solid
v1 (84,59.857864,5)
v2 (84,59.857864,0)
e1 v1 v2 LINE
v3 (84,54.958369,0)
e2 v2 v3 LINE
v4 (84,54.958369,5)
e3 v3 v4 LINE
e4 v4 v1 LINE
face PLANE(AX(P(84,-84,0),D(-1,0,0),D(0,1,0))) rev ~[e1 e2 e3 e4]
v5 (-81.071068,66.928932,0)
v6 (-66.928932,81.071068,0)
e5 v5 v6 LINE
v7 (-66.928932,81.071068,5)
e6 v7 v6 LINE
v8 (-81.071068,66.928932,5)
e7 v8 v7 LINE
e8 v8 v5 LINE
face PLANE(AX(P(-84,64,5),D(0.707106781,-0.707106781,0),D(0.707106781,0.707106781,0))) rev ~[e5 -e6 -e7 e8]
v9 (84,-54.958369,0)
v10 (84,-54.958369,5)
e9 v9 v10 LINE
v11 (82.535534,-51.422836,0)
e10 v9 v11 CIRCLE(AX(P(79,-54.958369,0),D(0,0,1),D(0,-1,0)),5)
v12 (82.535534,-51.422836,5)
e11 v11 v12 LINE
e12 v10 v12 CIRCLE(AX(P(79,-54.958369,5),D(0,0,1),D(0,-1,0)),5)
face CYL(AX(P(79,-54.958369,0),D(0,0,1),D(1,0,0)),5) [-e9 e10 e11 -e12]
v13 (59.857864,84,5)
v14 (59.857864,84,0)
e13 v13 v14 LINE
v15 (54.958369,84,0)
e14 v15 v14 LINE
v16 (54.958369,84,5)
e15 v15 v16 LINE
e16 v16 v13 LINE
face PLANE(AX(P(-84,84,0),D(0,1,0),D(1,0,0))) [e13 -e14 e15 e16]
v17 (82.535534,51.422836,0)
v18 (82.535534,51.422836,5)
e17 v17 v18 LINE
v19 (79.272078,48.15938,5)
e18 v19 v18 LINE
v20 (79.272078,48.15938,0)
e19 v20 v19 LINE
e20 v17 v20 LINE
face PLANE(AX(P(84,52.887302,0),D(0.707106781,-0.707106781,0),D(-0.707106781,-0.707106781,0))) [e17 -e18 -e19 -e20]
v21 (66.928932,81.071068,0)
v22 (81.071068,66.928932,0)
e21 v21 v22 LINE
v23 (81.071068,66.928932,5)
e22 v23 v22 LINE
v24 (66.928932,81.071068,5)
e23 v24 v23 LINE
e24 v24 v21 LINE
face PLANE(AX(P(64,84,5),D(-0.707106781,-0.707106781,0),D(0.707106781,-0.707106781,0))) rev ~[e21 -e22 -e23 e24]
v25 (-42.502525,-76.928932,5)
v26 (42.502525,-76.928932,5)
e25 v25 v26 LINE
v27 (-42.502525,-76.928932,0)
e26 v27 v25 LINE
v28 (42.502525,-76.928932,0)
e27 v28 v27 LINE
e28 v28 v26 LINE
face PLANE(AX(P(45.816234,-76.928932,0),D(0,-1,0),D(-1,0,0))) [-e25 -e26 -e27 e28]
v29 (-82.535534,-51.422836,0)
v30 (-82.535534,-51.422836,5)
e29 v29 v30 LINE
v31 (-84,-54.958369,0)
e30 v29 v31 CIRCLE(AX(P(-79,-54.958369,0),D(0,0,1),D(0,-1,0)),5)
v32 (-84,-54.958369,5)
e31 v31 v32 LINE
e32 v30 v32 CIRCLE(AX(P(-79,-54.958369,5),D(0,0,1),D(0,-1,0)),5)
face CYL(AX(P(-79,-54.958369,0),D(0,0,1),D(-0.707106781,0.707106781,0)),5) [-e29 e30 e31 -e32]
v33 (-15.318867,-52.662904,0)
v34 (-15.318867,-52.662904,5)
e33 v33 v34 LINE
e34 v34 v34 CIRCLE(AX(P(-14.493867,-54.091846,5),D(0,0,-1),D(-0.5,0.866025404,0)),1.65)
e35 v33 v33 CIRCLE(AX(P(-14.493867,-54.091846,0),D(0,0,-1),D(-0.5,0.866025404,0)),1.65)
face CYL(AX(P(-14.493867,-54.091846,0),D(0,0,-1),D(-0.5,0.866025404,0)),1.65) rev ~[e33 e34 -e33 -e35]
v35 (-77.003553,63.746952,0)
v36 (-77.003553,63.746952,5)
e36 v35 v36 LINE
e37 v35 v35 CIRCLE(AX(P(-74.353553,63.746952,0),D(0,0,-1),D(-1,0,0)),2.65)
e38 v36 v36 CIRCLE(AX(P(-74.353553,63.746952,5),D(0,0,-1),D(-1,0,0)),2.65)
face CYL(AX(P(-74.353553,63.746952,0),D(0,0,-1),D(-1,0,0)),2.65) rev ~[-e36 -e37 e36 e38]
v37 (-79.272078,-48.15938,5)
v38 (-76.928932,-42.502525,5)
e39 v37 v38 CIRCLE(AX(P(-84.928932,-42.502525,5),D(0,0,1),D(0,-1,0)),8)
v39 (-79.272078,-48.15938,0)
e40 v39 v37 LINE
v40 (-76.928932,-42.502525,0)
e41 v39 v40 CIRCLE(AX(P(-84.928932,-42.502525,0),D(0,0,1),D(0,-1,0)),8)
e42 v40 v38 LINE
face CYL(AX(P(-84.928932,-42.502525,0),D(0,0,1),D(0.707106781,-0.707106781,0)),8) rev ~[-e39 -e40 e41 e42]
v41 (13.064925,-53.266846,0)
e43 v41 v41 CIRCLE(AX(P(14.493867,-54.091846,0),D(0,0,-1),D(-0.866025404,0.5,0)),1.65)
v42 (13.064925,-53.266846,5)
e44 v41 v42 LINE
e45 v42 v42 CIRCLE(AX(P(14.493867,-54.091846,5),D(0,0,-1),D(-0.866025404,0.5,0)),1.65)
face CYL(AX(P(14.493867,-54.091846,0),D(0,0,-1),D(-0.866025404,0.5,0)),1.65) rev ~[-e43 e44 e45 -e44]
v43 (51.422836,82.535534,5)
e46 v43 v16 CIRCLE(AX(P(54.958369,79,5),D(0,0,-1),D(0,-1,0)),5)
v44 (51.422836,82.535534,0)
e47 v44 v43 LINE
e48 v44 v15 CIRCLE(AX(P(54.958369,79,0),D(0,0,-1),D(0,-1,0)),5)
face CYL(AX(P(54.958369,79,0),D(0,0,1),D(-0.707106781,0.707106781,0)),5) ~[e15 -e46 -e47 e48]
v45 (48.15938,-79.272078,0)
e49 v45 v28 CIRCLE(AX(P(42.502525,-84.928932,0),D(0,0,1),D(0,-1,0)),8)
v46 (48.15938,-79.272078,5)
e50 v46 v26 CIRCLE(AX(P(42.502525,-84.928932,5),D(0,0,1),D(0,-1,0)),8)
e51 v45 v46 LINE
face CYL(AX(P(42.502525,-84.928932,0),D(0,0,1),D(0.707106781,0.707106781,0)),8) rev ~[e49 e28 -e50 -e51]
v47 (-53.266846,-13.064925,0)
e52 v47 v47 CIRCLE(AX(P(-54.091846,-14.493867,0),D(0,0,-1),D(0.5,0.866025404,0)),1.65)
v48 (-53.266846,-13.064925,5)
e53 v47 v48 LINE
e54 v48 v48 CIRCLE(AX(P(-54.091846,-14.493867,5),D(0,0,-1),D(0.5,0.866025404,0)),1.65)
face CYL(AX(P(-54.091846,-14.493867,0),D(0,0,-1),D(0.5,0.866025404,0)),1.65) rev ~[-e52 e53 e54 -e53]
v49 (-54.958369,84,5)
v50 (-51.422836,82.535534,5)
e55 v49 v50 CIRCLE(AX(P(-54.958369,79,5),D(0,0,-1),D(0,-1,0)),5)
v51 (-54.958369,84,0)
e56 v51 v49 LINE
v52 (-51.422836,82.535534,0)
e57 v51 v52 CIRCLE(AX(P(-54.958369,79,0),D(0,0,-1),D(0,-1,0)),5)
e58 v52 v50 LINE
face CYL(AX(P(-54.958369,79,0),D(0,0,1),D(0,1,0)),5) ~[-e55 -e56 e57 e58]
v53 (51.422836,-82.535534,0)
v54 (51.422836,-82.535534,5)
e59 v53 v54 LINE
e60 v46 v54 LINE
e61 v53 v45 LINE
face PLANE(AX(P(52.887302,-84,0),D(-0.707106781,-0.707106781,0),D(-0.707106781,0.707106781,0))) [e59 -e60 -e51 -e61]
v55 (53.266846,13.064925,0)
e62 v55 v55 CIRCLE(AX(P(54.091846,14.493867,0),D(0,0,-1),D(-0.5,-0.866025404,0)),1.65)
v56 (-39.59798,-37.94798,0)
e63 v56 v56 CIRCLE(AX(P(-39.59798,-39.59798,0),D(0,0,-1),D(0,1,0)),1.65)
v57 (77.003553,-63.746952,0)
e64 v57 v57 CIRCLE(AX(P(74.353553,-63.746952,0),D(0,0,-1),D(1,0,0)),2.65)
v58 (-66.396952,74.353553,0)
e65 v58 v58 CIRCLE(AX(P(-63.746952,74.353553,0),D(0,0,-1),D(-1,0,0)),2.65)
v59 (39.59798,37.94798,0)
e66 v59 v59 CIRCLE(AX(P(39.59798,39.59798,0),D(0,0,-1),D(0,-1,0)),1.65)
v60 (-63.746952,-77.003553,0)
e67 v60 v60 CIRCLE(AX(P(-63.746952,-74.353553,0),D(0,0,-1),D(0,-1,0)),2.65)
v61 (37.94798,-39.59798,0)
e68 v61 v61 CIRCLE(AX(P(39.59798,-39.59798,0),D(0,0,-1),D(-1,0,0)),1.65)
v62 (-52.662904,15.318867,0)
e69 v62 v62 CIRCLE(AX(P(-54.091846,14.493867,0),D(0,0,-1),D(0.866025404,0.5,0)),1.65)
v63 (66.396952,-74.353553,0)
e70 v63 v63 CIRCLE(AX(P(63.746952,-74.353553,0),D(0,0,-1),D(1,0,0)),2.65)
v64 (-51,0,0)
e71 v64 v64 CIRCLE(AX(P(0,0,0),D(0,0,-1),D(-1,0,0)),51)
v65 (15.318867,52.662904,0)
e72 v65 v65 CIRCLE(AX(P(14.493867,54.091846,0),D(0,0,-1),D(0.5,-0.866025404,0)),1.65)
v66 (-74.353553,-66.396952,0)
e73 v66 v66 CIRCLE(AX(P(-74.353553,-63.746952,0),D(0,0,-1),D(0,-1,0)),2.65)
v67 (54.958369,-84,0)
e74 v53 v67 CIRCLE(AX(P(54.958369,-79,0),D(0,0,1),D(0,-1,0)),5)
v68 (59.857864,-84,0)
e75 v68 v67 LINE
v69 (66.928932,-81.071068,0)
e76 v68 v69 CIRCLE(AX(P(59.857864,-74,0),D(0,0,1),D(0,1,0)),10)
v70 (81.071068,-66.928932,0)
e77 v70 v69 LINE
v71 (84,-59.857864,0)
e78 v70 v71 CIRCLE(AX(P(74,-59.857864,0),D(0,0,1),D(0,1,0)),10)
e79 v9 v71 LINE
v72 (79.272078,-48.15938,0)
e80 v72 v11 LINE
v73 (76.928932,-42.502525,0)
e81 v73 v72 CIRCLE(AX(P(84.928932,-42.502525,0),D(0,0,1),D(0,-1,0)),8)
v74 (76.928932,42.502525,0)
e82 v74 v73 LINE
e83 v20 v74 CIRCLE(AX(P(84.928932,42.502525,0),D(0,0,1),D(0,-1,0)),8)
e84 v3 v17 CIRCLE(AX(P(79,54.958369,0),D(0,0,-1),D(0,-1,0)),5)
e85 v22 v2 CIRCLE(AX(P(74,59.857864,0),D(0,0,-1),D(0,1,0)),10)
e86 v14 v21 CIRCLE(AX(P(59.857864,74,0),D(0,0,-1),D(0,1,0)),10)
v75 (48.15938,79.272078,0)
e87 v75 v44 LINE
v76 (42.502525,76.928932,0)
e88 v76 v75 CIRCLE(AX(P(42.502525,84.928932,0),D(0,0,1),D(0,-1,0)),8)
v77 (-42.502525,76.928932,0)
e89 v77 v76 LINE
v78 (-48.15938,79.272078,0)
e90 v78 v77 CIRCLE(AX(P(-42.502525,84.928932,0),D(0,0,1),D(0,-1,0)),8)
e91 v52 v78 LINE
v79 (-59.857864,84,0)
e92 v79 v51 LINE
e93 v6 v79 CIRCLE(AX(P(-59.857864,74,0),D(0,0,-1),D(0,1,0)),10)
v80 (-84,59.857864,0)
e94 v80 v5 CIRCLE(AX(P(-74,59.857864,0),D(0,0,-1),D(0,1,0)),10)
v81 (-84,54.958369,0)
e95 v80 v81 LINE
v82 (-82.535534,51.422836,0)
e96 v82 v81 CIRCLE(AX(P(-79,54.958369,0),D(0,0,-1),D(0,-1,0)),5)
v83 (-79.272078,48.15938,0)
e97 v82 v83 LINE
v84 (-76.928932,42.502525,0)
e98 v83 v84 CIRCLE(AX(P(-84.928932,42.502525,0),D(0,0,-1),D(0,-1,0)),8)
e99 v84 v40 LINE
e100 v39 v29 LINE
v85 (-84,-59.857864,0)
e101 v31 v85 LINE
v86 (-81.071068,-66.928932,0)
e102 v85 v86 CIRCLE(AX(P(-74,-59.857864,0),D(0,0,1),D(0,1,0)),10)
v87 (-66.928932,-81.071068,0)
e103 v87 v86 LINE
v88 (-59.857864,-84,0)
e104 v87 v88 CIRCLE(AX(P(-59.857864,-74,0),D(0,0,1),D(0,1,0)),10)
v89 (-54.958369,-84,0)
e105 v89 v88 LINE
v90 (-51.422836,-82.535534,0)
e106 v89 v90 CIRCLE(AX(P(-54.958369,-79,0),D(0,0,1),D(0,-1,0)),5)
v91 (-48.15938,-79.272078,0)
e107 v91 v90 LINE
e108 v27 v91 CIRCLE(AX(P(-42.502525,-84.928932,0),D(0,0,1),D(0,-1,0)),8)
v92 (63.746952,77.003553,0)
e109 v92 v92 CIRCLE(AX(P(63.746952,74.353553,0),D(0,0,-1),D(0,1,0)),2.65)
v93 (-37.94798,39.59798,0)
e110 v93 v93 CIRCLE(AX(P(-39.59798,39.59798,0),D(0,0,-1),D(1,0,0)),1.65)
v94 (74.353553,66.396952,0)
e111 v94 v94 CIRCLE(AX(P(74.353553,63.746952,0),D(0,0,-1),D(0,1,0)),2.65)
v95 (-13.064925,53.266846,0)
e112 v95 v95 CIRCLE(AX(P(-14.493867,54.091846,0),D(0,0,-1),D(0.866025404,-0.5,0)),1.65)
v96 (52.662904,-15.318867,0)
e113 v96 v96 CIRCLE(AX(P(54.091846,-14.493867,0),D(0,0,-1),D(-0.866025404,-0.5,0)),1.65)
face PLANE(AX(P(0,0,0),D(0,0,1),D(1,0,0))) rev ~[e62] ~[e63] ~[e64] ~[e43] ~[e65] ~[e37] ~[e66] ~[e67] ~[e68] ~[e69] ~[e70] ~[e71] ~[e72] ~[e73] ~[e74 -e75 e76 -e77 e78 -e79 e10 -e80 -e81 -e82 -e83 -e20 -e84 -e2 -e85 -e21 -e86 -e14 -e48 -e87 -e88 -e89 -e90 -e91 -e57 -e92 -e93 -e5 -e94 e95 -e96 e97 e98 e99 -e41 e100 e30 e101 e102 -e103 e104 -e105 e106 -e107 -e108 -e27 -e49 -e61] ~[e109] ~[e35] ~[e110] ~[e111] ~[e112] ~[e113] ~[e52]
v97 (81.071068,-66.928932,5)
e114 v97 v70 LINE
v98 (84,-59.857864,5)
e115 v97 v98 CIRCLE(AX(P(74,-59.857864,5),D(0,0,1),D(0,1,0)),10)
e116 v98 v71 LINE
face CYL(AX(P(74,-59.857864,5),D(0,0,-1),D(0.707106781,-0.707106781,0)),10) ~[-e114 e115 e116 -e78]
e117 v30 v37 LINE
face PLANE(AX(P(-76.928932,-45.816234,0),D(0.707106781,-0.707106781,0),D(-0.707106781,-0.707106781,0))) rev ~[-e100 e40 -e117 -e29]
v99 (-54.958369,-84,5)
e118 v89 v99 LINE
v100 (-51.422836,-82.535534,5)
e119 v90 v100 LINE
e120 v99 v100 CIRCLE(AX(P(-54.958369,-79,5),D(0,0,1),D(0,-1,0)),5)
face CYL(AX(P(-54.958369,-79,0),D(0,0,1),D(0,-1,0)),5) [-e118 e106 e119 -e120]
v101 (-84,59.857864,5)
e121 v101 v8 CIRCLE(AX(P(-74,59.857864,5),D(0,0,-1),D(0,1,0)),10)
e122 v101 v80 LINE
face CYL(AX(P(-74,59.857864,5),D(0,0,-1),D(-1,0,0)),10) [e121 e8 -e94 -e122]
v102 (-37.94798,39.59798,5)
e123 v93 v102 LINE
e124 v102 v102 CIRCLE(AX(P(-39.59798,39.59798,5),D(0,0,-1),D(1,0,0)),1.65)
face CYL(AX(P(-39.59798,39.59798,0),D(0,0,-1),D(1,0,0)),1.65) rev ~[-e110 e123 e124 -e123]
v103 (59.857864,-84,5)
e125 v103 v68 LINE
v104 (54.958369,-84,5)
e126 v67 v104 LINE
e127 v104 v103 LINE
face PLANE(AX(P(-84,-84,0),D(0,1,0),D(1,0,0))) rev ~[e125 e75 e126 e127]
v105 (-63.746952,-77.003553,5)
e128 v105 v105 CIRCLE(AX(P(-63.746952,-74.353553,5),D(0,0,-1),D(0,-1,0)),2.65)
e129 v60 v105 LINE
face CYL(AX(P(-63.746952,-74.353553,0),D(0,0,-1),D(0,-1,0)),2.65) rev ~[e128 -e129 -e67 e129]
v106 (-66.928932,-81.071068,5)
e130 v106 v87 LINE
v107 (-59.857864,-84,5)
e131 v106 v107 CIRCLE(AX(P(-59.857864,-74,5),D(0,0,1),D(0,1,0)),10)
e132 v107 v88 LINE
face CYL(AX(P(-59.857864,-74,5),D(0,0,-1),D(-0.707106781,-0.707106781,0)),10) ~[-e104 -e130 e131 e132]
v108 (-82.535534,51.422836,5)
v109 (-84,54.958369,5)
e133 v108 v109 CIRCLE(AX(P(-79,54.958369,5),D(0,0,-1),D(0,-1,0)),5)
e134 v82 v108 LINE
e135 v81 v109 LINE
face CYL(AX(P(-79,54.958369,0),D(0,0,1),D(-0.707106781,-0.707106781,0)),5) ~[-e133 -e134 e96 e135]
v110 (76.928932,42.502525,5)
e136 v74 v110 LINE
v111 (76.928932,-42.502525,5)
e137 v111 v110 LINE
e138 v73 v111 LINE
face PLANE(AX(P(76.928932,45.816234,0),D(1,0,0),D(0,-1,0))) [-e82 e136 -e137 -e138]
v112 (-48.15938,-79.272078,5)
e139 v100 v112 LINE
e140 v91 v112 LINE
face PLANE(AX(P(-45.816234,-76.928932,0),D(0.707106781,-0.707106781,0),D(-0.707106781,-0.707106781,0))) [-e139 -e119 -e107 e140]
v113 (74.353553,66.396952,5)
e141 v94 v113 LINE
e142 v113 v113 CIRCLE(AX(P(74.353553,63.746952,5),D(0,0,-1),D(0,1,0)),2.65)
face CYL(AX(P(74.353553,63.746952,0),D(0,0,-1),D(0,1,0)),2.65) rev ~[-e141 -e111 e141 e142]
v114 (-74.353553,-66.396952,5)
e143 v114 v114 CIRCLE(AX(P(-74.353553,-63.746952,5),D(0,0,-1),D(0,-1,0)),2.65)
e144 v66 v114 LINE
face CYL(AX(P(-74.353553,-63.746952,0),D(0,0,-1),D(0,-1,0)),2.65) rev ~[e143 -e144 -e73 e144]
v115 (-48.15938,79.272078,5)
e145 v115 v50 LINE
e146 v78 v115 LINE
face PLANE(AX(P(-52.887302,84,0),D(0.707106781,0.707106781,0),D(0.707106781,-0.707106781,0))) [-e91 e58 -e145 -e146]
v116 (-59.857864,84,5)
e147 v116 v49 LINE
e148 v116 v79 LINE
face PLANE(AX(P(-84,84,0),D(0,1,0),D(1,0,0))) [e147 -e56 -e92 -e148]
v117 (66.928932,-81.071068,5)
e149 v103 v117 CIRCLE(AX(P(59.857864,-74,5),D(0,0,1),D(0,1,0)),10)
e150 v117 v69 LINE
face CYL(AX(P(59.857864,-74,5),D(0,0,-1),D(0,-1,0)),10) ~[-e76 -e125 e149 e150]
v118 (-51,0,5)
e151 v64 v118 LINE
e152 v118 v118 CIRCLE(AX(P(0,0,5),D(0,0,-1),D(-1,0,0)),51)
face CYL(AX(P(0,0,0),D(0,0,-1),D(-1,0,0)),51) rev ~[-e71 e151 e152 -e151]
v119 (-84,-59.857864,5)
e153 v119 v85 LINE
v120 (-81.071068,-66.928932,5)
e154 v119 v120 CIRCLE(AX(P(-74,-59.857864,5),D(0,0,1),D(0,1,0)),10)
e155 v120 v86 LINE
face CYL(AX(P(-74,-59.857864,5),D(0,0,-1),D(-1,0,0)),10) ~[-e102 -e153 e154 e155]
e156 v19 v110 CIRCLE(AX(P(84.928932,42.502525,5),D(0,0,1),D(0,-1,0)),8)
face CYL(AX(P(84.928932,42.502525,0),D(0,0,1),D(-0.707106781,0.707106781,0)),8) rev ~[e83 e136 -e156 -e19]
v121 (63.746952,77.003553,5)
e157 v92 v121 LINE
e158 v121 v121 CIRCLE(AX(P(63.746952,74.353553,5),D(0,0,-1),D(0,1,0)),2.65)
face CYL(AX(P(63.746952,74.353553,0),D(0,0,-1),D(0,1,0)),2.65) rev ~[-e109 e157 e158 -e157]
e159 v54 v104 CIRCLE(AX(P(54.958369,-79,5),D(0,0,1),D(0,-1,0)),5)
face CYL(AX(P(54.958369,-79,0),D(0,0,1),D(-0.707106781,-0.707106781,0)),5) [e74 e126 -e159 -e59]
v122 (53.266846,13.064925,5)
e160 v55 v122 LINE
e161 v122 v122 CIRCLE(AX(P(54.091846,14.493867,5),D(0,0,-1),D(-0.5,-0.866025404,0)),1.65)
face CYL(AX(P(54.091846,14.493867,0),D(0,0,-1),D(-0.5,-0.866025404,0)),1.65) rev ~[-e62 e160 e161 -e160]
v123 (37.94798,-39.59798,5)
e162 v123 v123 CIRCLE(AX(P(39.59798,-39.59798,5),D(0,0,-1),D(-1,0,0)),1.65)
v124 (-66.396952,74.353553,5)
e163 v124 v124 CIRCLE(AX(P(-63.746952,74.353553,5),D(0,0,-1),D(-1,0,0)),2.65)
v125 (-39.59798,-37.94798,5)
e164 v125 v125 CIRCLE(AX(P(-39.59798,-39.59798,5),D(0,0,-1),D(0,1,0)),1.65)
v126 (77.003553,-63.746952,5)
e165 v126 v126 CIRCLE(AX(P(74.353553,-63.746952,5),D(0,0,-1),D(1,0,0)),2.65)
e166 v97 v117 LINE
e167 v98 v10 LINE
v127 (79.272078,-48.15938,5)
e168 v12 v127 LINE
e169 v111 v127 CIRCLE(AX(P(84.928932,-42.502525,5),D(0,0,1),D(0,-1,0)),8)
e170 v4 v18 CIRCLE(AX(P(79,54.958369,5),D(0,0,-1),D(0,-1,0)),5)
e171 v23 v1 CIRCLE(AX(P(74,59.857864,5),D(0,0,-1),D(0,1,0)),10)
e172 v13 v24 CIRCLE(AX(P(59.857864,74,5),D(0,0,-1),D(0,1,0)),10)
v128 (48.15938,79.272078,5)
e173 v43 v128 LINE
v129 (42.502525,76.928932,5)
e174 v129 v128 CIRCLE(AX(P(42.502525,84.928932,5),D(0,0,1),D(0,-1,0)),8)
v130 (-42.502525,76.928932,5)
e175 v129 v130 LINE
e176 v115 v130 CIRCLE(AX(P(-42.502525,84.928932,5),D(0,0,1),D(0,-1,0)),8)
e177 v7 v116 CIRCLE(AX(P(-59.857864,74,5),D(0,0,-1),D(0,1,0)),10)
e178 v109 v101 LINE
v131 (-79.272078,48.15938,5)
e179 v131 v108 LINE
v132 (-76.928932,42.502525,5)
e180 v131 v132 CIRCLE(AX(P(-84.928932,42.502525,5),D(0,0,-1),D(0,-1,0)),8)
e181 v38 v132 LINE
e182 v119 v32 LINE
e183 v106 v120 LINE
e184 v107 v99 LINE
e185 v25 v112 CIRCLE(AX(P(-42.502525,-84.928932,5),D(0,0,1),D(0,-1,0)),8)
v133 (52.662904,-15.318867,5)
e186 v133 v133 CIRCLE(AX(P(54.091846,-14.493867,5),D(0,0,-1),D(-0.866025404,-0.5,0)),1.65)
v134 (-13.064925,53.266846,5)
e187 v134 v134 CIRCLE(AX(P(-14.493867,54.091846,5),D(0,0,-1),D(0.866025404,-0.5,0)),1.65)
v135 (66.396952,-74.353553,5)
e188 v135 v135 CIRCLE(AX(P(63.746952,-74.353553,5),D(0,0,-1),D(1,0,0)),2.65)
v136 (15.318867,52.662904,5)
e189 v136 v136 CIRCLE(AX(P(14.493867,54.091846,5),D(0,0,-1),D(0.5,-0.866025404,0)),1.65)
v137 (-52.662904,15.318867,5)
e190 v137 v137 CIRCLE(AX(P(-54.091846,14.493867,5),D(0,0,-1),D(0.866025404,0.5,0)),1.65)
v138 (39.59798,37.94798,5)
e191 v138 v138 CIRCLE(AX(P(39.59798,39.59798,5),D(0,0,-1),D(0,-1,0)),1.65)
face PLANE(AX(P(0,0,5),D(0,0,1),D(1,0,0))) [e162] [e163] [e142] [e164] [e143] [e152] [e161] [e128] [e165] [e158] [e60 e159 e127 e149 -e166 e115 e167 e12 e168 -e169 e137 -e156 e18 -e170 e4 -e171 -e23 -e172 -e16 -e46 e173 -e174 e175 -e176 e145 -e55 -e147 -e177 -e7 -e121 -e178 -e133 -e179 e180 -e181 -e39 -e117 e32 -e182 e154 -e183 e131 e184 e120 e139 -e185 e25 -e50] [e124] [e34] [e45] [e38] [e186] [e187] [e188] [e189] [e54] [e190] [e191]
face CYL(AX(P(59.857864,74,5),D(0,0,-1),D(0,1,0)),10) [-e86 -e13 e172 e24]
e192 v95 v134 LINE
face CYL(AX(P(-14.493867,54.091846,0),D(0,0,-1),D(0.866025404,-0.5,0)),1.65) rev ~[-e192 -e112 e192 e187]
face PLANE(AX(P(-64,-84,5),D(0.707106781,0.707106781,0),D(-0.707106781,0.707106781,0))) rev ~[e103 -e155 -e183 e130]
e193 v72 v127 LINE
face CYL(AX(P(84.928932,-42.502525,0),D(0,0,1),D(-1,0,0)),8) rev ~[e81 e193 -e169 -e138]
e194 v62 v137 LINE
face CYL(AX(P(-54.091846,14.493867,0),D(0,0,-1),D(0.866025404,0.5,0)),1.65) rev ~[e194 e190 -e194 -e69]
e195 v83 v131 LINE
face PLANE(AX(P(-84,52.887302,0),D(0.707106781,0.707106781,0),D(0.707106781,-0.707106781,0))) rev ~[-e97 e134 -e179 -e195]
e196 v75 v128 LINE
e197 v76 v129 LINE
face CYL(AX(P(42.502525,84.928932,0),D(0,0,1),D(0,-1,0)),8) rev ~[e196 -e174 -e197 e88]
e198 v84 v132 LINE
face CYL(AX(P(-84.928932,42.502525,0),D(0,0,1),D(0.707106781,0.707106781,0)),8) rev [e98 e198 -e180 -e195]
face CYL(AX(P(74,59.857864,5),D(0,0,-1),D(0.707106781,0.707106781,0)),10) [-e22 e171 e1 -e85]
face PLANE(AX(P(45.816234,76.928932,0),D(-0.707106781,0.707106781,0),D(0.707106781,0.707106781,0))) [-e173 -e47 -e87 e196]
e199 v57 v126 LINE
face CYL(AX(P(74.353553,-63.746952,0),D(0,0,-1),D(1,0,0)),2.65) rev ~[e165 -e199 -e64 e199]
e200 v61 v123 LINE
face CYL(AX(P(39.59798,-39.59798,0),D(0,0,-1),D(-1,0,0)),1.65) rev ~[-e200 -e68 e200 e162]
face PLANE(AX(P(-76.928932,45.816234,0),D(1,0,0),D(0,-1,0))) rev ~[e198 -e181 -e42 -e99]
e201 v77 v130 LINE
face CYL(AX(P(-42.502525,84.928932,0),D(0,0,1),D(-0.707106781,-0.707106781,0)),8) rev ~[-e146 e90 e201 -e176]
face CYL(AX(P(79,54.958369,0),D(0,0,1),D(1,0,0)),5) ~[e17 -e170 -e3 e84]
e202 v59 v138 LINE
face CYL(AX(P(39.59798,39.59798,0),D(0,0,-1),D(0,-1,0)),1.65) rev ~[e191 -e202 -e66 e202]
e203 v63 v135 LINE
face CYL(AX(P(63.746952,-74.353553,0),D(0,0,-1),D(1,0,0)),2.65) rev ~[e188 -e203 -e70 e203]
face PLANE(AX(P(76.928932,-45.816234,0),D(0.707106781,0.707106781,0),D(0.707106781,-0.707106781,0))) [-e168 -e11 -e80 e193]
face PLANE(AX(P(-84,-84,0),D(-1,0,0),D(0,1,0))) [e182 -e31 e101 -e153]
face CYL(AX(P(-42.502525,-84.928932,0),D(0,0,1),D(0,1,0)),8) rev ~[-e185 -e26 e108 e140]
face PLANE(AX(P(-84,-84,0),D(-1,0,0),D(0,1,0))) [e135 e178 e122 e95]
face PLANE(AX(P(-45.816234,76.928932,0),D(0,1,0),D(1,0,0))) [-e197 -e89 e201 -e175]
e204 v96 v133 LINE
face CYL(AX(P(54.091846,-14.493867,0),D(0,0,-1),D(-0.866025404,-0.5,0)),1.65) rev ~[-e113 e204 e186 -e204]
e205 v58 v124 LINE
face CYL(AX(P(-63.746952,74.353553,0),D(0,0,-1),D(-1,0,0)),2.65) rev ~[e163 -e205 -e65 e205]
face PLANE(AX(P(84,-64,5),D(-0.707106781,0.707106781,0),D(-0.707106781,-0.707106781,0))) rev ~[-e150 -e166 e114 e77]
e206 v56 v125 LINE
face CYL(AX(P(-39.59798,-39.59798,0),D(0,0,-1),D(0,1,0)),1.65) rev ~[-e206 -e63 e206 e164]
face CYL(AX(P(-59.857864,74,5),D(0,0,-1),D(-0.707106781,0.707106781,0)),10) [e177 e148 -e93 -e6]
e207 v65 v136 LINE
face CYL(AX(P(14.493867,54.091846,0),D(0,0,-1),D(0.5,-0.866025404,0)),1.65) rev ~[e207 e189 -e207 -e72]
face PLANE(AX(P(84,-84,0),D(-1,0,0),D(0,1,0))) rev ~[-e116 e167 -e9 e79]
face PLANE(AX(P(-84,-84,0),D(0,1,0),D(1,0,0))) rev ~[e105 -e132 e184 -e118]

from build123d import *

# Parameters (mm, degrees)
SKETCH_1_W               = 168
SKETCH_1_H               = 168
EXTRUDE_1_DEPTH          = 5
CUT_EXTRUDE_1_DEPTH      = 6
SKETCH_5_R               = 51
CUT_EXTRUDE_4_DEPTH      = 6
SKETCH_6_R               = 1.65
CUT_EXTRUDE_5_DEPTH      = 6
PATTERN_CIRCULAR_2_COUNT = 12
SKETCH_7_R               = 2.65
CUT_EXTRUDE_6_DEPTH      = 6
PATTERN_CIRCULAR_3_COUNT = 4
FILLET_1_R               = 10
CUT_EXTRUDE_7_DEPTH      = 1
CUT_EXTRUDE_7_DEPTH_BACK = 6
FILLET_2_R               = 8
FILLET_3_R               = 5


with BuildPart() as part:
    # 草图1 → 凸台-拉伸1 (new body)
    with BuildSketch(Plane.XY):
        Rectangle(SKETCH_1_W, SKETCH_1_H)
    extrude(amount=EXTRUDE_1_DEPTH)

    # 草图2 → 切除-拉伸1 (cut, through all)
    with BuildSketch(Plane.XY.offset(5)):
        Polygon((64, 84), (84, 64), (84, 84), align=None)
        Polygon((64, -84), (84, -84), (84, -64), align=None)
        Polygon((-84, -64), (-84, -84), (-64, -84), align=None)
        Polygon((-64, 84), (-84, 84), (-84, 64), align=None)
    extrude(amount=-CUT_EXTRUDE_1_DEPTH, mode=Mode.SUBTRACT)

    # 草图5 → 切除-拉伸4 (cut, through all)
    with BuildSketch(Plane(origin=(0, 0, 0), x_dir=(-1, 0, 0), z_dir=(0, 0, -1))):
        Circle(SKETCH_5_R)
    extrude(amount=-CUT_EXTRUDE_4_DEPTH, mode=Mode.SUBTRACT)

    # 草图6 → 切除-拉伸5 (cut, through all)
    with BuildSketch(Plane(origin=(0, 0, 0), x_dir=(-1, 0, 0), z_dir=(0, 0, -1))):
        with Locations((-39.597979746, -39.597979746)):
            Circle(SKETCH_6_R)
    cut_extrude_5 = extrude(amount=-CUT_EXTRUDE_5_DEPTH, mode=Mode.SUBTRACT)

    # 阵列(圆周)2: 切除-拉伸5 ×12 about axis
    pattern_circular_2_axis = Axis((0, 0, 0), (0, 0, 1))
    for i in range(1, PATTERN_CIRCULAR_2_COUNT):
        add(cut_extrude_5.rotate(pattern_circular_2_axis, i * 360 / PATTERN_CIRCULAR_2_COUNT), mode=Mode.SUBTRACT)

    # 草图7 → 切除-拉伸6 (cut, through all)
    with BuildSketch(Plane(origin=(0, 0, 0), x_dir=(-1, 0, 0), z_dir=(0, 0, -1))):
        with Locations((74.353553391, 63.746951673)):
            Circle(SKETCH_7_R)
        with Locations((63.746951673, 74.353553391)):
            Circle(SKETCH_7_R)
    cut_extrude_6 = extrude(amount=-CUT_EXTRUDE_6_DEPTH, mode=Mode.SUBTRACT)

    # 阵列(圆周)3: 切除-拉伸6 ×4 about axis
    pattern_circular_3_axis = Axis((0, 0, 0), (0, 0, 1))
    for i in range(1, PATTERN_CIRCULAR_3_COUNT):
        add(cut_extrude_6.rotate(pattern_circular_3_axis, i * 360 / PATTERN_CIRCULAR_3_COUNT), mode=Mode.SUBTRACT)

    # 圆角1
    fillet_1_edges = [part.edges().sort_by_distance(p)[0] for p in [
        (-64, 84, 2.5),
        (-84, 64, 2.5),
        (-84, -64, 2.5),
        (-64, -84, 2.5),
        (64, -84, 2.5),
        (84, -64, 2.5),
        (64, 84, 2.5),
        (84, 64, 2.5),
    ]]
    fillet(fillet_1_edges, radius=FILLET_1_R)

    # 草图8 → 切除-拉伸7 (cut, two sides)
    with BuildSketch(Plane(origin=(0, 0, 0), x_dir=(-1, 0, 0), z_dir=(0, 0, -1))) as cut_extrude_7_sk:
        Polygon((-84, -52.887301628), (-84, 52.887301628), (-76.928932188, 45.816233816), (-76.928932188, -45.816233816), align=None)
        Polygon((-52.887301628, 84), (52.887301628, 84), (45.816233816, 76.928932188), (-45.816233816, 76.928932188), align=None)
        Polygon((84, 52.887301628), (76.928932188, 45.816233816), (76.928932188, -45.816233816), (84, -52.887301628), align=None)
        Polygon((52.887301628, -84), (-52.887301628, -84), (-45.816233816, -76.928932188), (45.816233816, -76.928932188), align=None)
    extrude(amount=CUT_EXTRUDE_7_DEPTH, mode=Mode.SUBTRACT)
    extrude(cut_extrude_7_sk.sketch, amount=-CUT_EXTRUDE_7_DEPTH_BACK, mode=Mode.SUBTRACT)

    # 圆角2
    fillet_2_edges = [part.edges().sort_by_distance(p)[0] for p in [
        (76.928932188, 45.816233816, 2.5),
        (76.928932188, -45.816233816, 2.5),
        (45.816233816, 76.928932188, 2.5),
        (-45.816233816, 76.928932188, 2.5),
        (-76.928932188, -45.816233816, 2.5),
        (-76.928932188, 45.816233816, 2.5),
        (-45.816233816, -76.928932188, 2.5),
        (45.816233816, -76.928932188, 2.5),
    ]]
    fillet(fillet_2_edges, radius=FILLET_2_R)

    # 圆角3
    fillet_3_edges = [part.edges().sort_by_distance(p)[0] for p in [
        (84, 52.887301628, 2.5),
        (84, -52.887301628, 2.5),
        (52.887301628, 84, 2.5),
        (-52.887301628, 84, 2.5),
        (-84, 52.887301628, 2.5),
        (-84, -52.887301628, 2.5),
        (-52.887301628, -84, 2.5),
        (52.887301628, -84, 2.5),
    ]]
    fillet(fillet_3_edges, radius=FILLET_3_R)


solid = part.part
